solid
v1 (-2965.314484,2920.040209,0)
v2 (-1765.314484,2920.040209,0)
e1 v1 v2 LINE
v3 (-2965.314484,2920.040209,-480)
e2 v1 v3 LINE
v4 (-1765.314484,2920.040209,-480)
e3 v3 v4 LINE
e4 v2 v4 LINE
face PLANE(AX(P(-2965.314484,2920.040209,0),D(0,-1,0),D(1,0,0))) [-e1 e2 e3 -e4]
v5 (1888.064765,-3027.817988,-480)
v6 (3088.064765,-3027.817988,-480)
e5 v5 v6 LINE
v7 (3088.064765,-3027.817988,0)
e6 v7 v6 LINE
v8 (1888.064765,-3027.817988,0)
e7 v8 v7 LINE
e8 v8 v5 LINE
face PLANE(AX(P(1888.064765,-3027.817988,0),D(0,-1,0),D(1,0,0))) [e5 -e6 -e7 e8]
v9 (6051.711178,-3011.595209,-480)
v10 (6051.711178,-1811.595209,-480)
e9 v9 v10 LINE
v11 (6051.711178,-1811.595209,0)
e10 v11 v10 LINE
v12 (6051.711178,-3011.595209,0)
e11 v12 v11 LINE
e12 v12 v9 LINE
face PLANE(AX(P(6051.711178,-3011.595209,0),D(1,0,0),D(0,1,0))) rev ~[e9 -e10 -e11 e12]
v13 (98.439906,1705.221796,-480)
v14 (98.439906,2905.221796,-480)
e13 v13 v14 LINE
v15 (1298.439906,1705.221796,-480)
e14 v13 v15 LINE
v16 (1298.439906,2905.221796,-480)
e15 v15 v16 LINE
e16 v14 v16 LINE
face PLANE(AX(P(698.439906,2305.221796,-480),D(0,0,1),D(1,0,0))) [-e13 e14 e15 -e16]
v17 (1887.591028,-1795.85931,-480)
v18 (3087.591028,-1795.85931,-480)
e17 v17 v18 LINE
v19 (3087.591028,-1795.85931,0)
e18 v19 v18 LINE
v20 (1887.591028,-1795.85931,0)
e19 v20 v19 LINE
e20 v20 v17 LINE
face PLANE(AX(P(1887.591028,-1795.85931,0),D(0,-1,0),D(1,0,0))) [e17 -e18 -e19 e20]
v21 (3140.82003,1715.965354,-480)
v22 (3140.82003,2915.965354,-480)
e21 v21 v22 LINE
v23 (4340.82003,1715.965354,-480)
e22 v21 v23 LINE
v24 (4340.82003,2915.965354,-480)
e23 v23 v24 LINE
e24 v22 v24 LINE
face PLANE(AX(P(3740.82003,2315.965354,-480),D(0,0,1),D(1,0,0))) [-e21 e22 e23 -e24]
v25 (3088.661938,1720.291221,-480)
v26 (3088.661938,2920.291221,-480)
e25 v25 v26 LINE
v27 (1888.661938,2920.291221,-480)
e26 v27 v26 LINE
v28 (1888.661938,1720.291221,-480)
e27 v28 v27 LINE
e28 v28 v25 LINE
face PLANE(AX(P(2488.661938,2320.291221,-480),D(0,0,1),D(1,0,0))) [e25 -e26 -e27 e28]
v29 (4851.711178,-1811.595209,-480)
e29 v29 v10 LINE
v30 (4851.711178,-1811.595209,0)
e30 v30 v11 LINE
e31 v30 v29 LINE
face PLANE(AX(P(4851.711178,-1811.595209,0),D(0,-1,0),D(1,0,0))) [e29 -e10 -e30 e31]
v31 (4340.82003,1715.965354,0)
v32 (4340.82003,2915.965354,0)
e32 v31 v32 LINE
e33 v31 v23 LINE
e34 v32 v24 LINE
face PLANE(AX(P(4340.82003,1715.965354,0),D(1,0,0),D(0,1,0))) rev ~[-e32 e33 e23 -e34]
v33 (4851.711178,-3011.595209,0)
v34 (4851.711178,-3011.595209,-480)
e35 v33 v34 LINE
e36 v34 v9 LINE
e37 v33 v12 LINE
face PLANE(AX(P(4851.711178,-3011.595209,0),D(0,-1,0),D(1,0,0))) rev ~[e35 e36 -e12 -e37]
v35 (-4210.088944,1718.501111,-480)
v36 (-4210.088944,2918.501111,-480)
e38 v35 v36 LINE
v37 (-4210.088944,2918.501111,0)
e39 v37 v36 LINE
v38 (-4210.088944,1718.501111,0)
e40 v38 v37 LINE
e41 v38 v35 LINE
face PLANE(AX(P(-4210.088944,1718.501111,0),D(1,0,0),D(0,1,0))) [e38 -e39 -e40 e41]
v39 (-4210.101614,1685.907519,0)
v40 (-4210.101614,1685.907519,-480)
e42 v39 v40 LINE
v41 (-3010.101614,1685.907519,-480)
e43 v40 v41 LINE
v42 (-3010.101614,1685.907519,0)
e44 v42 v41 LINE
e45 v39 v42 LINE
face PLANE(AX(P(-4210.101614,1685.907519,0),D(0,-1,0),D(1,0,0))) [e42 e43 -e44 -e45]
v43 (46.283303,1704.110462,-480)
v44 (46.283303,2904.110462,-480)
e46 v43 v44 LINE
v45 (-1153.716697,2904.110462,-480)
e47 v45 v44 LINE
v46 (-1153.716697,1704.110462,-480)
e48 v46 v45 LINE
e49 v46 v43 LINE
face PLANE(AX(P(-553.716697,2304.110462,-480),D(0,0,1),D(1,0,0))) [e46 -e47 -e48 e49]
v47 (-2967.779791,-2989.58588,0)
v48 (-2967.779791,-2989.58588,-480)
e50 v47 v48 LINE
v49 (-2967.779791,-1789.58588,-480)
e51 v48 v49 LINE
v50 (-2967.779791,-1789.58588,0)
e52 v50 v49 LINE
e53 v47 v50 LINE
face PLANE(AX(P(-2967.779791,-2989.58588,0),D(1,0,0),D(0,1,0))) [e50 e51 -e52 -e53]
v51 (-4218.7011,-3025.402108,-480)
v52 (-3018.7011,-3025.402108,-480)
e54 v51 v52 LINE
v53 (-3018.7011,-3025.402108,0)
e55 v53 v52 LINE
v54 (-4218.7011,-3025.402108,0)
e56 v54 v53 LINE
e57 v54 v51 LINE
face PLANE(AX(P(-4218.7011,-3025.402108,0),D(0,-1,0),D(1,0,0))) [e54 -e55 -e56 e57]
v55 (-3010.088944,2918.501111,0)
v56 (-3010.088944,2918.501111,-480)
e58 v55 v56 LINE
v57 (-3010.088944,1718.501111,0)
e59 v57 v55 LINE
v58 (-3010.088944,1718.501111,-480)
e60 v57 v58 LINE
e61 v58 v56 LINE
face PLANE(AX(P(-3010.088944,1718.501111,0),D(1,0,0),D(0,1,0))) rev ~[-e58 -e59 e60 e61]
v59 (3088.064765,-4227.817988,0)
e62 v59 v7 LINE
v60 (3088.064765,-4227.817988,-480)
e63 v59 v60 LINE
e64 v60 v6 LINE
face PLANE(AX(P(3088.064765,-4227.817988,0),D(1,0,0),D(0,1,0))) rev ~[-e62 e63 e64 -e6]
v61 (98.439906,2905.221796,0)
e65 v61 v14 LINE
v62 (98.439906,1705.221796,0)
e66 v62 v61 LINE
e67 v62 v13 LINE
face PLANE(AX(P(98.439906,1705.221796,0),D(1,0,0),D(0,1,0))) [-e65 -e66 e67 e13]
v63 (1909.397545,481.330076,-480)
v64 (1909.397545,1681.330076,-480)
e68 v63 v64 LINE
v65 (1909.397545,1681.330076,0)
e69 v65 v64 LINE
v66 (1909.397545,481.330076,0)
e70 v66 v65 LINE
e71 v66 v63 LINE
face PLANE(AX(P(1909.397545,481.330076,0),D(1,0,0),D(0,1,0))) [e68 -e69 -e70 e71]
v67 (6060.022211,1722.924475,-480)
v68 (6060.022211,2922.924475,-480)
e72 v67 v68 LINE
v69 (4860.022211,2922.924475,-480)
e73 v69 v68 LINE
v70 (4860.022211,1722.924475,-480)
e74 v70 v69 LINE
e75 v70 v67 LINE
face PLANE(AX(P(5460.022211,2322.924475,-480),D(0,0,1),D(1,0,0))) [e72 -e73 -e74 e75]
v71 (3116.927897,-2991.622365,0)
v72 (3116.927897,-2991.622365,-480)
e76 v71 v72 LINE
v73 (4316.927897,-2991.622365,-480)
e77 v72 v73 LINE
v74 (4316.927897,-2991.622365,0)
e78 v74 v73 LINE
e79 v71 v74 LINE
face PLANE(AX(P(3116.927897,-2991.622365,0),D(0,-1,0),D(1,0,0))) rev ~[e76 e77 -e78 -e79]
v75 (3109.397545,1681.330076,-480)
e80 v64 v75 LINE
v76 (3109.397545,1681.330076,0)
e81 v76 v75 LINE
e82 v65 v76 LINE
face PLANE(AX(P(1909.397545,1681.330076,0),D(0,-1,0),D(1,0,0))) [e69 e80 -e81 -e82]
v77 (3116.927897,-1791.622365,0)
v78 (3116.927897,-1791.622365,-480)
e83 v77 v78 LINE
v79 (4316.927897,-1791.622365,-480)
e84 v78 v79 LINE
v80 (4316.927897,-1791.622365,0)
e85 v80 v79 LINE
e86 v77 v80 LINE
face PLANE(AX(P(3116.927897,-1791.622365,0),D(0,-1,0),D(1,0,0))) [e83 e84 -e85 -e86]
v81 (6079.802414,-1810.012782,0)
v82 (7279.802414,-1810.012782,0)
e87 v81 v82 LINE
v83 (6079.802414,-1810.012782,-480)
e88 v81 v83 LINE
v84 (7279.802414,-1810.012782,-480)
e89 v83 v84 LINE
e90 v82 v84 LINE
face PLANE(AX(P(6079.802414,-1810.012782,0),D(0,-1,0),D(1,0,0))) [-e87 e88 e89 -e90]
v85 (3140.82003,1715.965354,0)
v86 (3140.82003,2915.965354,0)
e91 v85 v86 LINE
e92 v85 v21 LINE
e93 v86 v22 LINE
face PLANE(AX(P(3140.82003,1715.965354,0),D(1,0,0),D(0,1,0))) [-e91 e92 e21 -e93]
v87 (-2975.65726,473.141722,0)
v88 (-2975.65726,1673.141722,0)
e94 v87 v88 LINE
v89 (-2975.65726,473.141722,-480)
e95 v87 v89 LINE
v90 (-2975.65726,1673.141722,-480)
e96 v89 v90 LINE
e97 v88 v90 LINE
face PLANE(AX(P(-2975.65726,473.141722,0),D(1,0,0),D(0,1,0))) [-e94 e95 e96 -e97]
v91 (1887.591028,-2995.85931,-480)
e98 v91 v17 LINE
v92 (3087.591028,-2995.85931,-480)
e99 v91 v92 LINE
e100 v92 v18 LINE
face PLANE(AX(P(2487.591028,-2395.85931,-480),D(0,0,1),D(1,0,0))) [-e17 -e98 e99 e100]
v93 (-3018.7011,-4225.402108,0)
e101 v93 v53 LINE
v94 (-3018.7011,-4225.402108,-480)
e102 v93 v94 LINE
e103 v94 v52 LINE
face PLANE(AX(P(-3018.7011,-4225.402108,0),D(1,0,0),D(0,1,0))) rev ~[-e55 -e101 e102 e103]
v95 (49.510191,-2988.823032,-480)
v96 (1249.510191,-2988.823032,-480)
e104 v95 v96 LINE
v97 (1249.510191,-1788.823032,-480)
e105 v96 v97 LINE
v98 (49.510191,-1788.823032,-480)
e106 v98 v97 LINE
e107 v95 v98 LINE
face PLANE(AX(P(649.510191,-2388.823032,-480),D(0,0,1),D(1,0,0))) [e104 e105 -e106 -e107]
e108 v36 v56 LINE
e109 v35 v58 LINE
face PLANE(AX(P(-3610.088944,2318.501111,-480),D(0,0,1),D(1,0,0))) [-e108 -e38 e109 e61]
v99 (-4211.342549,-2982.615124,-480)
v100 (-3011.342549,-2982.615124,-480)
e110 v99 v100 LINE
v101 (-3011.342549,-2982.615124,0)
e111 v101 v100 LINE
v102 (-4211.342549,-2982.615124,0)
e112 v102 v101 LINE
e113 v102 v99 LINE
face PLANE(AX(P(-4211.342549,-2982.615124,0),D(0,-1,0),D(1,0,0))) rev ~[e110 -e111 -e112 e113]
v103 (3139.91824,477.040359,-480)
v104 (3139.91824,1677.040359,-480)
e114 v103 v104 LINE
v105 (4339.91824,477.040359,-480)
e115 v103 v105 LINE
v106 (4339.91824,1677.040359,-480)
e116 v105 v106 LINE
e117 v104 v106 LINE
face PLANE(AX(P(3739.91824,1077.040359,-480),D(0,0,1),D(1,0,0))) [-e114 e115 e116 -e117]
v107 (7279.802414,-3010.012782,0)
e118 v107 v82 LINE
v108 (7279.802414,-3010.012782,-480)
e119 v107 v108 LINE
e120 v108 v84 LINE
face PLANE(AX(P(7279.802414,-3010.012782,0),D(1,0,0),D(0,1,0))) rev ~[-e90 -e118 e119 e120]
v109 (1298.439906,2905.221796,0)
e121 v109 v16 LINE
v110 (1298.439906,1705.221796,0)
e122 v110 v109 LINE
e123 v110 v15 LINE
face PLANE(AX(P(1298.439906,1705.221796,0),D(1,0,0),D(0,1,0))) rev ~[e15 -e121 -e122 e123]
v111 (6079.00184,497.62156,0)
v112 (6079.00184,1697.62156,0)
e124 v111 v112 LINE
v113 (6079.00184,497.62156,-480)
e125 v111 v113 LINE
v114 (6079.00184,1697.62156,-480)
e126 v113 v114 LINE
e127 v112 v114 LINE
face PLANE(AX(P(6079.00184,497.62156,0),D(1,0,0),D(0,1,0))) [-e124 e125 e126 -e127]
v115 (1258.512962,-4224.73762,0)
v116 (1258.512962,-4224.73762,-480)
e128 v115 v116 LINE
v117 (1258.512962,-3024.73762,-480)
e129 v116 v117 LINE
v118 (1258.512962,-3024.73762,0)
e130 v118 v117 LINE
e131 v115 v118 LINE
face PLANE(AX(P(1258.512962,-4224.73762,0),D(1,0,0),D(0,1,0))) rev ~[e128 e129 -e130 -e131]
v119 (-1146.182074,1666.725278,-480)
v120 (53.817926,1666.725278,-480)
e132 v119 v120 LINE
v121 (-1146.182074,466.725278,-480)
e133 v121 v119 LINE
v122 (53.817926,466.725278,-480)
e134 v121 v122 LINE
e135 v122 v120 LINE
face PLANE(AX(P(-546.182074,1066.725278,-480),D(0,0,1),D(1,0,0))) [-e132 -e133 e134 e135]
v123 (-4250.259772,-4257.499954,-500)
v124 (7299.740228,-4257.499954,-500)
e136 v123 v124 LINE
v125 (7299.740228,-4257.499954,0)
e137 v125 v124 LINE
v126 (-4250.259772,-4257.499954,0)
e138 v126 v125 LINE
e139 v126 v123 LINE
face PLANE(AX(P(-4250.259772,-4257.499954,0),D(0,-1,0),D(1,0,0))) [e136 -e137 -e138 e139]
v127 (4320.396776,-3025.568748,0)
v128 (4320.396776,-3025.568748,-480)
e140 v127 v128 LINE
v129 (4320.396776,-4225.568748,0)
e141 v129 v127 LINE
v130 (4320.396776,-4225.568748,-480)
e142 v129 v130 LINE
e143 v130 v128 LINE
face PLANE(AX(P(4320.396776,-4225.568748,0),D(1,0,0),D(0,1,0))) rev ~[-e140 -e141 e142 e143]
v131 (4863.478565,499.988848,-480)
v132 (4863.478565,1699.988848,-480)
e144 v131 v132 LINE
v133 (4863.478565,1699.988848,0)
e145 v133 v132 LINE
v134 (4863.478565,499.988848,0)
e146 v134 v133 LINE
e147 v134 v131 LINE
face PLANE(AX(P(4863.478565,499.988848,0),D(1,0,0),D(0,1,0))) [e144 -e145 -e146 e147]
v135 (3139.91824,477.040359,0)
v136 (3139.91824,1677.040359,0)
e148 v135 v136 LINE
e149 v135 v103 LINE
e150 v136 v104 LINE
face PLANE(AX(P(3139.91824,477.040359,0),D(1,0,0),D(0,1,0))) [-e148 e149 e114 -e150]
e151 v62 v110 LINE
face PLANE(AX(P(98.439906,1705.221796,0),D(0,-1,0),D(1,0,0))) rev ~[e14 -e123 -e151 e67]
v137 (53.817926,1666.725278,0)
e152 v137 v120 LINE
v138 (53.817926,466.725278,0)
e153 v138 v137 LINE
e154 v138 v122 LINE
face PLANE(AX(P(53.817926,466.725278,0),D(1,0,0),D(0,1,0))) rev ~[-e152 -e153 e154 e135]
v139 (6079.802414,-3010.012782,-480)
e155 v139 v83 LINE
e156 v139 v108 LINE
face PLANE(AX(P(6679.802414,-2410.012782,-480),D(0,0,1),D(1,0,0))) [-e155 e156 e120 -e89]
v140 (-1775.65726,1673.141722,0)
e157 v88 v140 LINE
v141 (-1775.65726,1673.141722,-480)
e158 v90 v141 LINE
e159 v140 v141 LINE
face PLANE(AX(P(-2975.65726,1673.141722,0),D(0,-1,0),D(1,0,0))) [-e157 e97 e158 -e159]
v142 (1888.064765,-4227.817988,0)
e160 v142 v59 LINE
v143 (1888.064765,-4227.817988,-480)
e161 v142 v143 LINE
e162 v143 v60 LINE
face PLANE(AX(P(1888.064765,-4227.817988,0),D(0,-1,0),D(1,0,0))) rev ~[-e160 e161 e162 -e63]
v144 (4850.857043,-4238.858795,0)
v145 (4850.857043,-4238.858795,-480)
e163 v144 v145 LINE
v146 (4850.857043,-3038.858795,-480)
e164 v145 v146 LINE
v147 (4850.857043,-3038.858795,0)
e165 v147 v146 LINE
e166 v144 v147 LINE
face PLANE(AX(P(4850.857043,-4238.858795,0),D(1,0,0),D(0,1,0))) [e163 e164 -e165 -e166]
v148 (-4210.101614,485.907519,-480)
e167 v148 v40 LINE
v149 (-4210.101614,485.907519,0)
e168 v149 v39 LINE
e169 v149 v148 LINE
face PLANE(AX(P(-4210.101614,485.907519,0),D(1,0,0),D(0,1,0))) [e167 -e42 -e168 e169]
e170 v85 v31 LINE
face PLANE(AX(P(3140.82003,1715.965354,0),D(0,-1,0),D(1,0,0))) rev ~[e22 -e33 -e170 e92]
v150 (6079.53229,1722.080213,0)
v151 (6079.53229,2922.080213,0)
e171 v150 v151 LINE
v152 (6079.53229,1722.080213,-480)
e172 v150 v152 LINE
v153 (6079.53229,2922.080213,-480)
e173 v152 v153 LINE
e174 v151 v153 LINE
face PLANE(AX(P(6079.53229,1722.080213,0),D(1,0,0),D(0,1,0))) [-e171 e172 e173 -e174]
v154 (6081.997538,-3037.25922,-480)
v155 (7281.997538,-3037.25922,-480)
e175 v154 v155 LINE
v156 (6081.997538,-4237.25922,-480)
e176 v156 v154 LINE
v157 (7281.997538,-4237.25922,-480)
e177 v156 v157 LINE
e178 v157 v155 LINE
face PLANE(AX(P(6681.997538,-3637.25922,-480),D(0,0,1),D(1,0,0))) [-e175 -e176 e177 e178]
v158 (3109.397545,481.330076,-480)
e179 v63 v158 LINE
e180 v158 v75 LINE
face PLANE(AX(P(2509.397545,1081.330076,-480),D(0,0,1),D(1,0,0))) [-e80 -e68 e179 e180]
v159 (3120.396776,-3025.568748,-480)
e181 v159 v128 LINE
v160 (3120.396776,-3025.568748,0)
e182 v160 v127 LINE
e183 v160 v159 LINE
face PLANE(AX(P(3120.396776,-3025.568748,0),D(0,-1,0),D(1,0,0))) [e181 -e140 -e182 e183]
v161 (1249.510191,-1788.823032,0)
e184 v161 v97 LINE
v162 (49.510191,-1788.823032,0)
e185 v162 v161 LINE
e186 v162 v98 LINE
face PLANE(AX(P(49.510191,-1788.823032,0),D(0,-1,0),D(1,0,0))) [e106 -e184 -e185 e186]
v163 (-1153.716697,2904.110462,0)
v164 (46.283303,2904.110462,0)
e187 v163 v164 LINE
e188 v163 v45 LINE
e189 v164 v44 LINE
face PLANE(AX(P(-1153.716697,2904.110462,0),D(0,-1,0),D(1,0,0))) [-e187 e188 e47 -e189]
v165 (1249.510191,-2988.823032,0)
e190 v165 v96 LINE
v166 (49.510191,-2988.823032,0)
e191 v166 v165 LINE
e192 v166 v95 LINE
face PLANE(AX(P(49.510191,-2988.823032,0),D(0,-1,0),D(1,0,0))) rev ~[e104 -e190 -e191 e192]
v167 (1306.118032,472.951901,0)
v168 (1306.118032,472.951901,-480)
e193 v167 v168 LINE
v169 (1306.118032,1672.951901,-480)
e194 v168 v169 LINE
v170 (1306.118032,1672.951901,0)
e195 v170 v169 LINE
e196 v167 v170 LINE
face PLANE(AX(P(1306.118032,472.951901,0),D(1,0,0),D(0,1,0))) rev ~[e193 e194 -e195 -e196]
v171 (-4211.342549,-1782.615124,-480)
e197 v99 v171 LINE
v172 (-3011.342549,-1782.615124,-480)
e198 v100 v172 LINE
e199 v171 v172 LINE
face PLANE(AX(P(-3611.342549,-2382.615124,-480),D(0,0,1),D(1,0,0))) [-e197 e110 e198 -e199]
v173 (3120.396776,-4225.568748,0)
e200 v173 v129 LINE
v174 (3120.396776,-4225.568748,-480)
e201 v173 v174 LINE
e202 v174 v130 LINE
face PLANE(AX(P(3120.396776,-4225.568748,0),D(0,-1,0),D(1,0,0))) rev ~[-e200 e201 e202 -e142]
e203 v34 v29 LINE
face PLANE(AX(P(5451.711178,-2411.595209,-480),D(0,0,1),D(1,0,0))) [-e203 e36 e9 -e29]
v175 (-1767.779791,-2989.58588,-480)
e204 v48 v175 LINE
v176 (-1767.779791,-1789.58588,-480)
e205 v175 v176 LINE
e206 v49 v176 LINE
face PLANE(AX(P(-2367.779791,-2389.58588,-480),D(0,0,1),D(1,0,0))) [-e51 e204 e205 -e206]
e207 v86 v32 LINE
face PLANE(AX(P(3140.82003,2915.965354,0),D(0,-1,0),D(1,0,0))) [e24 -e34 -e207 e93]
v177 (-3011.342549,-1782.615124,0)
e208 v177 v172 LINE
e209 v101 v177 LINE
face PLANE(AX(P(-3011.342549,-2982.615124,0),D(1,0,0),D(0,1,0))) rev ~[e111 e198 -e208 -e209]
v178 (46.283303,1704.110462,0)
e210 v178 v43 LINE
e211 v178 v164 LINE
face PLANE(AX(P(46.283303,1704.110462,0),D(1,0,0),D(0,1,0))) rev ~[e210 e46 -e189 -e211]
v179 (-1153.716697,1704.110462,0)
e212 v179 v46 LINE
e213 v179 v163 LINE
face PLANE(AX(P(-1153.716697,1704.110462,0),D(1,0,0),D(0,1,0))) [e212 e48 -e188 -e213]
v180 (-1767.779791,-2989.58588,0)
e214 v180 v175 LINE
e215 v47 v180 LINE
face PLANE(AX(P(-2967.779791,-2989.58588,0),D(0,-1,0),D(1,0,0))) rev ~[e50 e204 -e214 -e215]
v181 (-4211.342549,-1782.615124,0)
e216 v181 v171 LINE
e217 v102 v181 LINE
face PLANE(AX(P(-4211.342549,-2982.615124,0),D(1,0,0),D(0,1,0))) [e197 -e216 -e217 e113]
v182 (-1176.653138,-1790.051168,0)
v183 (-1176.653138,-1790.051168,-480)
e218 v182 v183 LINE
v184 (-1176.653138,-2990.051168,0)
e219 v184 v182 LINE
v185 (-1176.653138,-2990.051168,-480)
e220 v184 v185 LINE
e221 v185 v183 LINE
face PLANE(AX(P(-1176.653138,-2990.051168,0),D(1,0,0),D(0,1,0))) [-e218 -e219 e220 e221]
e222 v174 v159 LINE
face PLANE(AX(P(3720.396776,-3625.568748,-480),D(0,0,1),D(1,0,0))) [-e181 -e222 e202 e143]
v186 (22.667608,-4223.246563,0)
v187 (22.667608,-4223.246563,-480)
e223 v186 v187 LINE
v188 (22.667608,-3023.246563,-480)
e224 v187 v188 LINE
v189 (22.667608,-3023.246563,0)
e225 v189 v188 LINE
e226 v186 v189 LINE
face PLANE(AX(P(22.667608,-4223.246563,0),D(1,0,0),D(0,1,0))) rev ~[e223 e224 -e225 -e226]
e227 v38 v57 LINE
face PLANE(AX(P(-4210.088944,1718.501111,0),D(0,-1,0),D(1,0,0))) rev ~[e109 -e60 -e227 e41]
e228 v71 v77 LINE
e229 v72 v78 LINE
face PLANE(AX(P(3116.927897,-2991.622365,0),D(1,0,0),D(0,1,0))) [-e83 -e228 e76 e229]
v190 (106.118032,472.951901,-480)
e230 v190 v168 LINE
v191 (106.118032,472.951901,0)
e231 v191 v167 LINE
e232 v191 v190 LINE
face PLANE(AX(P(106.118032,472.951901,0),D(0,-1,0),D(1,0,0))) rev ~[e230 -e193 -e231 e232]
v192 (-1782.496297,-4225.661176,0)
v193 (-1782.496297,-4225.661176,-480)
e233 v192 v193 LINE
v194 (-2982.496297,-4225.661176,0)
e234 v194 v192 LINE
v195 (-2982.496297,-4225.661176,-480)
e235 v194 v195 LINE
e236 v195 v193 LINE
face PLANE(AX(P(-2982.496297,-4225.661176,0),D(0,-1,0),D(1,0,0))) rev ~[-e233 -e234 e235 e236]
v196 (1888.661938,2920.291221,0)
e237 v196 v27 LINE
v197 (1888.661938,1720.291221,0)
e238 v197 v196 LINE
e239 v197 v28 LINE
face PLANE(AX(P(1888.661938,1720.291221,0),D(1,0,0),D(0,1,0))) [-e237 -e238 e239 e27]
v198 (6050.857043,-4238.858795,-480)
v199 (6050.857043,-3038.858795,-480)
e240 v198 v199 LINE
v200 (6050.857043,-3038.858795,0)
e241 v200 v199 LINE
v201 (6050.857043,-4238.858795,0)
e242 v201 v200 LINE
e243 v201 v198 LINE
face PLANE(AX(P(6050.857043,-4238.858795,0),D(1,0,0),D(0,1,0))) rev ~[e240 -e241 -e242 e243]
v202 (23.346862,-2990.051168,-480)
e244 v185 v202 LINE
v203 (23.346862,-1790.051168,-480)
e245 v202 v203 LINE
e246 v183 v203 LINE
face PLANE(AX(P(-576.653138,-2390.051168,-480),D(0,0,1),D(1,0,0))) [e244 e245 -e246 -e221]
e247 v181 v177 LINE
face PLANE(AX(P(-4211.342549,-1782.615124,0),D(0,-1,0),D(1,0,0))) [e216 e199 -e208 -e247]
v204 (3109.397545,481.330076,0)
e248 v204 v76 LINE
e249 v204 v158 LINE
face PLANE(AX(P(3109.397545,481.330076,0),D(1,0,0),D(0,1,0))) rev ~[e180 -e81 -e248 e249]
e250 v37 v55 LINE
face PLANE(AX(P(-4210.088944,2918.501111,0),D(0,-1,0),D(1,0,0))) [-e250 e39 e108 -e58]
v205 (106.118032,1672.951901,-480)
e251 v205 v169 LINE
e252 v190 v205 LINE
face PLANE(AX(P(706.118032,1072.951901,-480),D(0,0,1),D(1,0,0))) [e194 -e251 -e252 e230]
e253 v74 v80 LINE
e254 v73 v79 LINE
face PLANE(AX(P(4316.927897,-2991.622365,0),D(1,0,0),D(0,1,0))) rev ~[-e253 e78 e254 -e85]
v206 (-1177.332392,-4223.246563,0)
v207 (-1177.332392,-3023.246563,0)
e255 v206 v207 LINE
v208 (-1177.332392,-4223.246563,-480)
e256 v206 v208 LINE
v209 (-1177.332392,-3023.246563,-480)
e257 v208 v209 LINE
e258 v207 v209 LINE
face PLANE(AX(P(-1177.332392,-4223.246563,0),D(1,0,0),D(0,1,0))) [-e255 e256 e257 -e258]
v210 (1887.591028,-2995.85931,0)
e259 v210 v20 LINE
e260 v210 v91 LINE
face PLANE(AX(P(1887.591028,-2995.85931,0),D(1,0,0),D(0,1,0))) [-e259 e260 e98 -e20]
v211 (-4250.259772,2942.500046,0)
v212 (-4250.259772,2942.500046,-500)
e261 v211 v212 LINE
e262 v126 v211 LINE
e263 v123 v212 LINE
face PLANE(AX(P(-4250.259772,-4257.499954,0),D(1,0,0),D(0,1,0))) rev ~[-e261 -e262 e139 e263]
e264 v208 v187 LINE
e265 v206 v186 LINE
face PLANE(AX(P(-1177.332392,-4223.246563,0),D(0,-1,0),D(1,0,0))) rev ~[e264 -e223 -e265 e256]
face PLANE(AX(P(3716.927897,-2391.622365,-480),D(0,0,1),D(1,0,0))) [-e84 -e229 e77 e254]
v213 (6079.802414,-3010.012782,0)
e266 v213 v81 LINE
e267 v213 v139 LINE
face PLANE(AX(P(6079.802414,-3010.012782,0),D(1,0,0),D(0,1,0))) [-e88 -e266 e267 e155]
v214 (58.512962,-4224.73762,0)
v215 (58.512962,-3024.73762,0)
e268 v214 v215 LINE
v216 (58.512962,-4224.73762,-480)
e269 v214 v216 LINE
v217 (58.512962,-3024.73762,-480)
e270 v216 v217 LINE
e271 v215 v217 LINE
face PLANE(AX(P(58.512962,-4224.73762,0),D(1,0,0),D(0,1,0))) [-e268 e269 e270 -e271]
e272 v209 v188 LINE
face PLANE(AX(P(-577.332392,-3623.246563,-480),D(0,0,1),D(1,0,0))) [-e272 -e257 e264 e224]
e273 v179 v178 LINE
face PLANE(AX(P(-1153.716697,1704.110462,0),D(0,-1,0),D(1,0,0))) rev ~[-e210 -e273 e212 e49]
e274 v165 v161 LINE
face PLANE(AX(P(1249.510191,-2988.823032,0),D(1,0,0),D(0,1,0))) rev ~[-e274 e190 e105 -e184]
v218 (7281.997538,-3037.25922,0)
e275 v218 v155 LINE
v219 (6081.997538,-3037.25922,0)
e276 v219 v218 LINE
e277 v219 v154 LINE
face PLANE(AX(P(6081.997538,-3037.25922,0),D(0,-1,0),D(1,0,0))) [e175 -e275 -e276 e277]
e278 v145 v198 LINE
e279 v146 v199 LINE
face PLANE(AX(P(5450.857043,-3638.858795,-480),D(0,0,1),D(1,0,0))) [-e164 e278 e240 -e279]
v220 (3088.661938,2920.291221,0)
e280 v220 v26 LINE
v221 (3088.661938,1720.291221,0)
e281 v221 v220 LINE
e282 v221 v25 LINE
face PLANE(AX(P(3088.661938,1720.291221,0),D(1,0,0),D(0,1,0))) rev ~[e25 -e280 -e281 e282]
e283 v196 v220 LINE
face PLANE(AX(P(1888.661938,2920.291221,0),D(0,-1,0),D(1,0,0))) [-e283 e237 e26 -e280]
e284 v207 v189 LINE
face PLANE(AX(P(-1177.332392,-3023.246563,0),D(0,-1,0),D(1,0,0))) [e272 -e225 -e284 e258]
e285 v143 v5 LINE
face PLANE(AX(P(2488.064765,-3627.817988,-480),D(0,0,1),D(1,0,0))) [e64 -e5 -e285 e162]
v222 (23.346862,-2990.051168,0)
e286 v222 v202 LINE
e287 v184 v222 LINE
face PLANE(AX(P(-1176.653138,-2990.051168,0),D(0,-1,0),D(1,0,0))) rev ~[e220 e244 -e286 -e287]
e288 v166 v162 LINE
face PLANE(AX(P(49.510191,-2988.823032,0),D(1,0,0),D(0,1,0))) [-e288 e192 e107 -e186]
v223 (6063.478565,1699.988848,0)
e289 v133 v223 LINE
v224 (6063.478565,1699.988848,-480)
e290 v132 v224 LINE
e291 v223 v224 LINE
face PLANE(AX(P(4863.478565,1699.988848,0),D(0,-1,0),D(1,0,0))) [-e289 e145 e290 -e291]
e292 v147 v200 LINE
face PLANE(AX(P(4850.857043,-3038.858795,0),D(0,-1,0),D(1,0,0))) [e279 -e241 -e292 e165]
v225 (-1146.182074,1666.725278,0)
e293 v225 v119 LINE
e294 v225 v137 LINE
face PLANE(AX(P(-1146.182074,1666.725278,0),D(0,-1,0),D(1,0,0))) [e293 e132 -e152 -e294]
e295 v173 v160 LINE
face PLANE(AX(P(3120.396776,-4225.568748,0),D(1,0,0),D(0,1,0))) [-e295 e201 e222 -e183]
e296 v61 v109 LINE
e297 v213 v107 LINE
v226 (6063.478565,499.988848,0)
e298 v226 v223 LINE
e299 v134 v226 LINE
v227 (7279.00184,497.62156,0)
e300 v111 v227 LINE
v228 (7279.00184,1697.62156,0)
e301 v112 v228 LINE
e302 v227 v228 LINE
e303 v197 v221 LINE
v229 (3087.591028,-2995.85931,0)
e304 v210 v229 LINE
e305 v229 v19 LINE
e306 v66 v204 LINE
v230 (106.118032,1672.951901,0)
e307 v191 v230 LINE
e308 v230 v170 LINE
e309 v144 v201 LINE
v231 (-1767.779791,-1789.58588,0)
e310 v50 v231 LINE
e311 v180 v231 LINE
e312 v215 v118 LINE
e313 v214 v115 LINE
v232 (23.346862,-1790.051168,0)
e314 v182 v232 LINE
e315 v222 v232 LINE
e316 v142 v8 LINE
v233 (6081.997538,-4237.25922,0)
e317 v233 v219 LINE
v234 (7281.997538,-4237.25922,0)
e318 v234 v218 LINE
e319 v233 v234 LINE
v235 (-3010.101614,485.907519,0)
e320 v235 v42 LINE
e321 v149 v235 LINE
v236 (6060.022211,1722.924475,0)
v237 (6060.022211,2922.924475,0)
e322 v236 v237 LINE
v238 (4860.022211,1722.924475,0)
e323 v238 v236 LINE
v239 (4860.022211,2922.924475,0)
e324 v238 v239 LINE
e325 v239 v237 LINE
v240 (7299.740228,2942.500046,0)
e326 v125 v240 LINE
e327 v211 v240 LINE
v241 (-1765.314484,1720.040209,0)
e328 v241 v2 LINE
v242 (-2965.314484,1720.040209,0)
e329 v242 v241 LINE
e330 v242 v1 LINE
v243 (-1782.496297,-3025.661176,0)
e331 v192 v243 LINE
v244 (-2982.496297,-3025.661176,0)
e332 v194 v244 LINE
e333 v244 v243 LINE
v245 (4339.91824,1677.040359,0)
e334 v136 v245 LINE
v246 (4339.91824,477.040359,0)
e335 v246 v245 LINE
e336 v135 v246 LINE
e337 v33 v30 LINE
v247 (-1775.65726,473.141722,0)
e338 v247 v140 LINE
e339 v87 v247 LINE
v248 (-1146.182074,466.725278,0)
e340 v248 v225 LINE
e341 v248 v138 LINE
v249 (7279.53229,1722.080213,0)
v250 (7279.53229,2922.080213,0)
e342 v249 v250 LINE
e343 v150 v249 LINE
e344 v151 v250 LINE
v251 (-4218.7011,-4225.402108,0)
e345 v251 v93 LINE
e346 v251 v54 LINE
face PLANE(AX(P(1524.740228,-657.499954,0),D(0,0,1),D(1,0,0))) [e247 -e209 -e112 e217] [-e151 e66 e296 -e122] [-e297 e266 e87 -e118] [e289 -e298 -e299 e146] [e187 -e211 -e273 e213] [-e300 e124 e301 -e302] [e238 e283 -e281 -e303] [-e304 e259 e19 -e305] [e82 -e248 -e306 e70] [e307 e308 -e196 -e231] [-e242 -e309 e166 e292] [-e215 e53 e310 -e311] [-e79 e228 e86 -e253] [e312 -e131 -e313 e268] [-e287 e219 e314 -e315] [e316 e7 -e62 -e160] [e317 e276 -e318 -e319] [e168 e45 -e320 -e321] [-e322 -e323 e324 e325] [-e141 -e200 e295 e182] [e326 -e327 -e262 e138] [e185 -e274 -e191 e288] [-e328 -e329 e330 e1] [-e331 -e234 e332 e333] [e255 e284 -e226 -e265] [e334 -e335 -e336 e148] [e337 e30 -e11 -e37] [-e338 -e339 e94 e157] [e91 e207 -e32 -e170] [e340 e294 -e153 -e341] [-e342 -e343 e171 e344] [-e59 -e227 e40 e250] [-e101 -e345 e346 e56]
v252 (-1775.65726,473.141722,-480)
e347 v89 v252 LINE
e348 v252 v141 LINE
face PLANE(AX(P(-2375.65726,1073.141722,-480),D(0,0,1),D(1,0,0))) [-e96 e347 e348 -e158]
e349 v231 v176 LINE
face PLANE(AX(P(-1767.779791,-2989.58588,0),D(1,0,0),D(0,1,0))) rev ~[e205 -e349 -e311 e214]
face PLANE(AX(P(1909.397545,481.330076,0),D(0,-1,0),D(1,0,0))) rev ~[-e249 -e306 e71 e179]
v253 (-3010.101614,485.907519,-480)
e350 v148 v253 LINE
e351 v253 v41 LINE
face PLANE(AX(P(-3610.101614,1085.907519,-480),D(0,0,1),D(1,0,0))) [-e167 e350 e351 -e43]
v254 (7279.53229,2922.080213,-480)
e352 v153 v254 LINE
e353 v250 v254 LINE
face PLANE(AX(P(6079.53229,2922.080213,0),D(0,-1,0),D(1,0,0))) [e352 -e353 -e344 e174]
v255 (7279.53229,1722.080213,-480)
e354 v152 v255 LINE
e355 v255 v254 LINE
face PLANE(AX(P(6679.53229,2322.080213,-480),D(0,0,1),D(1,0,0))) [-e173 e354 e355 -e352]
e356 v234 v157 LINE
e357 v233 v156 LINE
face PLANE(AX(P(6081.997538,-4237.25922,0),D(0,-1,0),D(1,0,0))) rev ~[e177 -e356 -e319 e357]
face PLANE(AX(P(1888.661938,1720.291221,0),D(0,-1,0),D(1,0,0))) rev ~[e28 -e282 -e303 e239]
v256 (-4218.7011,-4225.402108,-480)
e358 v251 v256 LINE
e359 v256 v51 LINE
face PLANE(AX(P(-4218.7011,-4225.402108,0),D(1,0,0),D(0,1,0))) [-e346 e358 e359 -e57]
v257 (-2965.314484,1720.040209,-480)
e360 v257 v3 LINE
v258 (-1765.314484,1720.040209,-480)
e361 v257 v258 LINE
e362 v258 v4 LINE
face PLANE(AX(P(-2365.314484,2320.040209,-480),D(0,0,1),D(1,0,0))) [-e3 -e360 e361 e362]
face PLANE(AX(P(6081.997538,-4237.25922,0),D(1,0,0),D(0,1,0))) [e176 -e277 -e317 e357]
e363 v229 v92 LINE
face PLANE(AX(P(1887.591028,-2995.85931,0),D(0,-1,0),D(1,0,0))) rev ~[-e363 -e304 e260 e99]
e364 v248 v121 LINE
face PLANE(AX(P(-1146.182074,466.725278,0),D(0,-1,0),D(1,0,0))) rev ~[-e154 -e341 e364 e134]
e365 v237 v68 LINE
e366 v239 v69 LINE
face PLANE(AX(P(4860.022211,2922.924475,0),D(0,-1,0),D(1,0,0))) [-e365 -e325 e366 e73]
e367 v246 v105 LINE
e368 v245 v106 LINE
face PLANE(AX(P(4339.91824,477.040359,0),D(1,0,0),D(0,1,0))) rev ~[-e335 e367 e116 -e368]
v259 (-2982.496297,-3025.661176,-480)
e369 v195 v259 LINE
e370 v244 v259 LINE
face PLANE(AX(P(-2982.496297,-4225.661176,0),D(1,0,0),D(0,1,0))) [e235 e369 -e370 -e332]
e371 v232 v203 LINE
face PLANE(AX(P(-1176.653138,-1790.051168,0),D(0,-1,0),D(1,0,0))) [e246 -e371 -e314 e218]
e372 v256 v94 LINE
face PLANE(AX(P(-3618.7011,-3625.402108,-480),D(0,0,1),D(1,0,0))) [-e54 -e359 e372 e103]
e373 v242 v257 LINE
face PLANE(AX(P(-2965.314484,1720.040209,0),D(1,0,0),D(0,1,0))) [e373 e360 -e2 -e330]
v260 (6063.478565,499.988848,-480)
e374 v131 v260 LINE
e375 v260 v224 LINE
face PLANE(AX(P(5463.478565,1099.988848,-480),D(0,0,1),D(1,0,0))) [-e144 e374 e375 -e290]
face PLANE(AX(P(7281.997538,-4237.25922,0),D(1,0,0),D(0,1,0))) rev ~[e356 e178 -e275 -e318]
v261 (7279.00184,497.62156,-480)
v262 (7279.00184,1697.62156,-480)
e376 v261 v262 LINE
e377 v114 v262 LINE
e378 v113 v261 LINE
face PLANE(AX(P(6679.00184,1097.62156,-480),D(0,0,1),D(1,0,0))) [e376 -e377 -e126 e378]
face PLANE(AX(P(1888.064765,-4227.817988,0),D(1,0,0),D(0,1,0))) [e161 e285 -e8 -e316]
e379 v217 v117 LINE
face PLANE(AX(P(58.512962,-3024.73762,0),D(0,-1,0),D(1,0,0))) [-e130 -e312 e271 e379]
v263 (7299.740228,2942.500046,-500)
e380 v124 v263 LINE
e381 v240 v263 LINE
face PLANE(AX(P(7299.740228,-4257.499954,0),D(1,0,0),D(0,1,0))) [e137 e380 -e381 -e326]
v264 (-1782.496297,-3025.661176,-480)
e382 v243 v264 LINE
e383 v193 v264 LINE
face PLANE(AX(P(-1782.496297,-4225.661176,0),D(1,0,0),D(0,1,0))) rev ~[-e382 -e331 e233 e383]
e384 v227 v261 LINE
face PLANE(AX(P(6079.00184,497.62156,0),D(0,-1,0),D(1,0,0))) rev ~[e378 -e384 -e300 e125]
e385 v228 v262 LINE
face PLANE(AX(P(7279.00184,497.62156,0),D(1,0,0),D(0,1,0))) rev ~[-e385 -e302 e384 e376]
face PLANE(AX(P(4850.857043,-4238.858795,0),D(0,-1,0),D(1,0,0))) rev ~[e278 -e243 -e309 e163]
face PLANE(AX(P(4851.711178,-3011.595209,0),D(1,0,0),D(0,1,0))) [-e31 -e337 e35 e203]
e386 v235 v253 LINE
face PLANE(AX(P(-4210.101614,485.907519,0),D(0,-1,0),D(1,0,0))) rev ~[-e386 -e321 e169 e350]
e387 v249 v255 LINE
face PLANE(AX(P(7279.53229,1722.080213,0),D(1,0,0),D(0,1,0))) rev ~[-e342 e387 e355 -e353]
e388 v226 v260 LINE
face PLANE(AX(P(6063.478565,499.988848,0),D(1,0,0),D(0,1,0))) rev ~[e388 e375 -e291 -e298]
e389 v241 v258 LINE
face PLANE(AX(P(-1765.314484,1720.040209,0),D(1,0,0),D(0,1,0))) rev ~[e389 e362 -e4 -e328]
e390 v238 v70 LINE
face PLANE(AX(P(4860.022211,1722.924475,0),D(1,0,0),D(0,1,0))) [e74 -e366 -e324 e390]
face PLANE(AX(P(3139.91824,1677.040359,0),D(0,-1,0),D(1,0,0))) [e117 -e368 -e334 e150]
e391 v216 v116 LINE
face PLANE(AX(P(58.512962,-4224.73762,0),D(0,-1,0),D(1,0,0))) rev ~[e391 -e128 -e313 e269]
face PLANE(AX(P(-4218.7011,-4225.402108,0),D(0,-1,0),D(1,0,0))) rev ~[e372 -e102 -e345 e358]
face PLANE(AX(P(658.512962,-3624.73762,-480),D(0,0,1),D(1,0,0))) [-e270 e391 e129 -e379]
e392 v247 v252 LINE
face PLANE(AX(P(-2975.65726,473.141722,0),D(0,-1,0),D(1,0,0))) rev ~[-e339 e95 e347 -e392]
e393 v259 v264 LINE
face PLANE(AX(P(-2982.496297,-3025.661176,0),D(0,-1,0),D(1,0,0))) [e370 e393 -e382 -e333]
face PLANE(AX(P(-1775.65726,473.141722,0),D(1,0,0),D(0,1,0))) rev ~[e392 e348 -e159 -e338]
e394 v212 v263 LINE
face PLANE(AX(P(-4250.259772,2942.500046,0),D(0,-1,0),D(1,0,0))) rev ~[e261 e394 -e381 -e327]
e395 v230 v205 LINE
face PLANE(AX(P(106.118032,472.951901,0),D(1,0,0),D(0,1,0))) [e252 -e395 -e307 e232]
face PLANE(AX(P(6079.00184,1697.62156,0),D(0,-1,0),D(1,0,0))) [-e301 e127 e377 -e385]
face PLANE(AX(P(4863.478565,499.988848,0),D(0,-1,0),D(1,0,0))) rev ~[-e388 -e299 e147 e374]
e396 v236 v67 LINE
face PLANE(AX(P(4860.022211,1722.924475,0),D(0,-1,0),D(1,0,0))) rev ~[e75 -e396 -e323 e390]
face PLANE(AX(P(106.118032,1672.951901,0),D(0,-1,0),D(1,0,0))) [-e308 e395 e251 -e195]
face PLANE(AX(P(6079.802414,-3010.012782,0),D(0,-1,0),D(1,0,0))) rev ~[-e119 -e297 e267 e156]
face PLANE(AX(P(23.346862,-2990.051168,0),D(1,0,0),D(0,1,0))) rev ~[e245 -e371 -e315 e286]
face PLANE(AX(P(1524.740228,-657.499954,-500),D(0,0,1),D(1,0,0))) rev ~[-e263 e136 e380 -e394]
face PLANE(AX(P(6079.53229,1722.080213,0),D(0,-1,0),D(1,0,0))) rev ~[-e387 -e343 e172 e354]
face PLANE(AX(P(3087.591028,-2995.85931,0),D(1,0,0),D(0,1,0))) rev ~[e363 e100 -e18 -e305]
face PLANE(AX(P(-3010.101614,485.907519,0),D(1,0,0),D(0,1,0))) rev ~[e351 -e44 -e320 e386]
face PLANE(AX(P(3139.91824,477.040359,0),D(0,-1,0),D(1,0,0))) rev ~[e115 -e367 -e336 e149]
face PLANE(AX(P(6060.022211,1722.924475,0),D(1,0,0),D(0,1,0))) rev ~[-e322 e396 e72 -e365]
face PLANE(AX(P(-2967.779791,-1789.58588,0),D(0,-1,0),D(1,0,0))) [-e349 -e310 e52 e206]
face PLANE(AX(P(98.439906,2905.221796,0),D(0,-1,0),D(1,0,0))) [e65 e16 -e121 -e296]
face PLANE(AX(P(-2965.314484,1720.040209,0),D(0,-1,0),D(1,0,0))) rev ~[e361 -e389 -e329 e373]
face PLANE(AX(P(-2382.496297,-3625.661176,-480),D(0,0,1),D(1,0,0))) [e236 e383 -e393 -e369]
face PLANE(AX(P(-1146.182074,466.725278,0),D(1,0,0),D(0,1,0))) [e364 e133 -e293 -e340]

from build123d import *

# Parameters (mm, degrees)
F0_W      = 11550
F0_H      = 7200
F1_DEPTH  = 500
F2_W      = 1200
F2_H      = 1200
F3_DEPTH  = 480
F4_W      = 1200
F4_H      = 1200
F5_DEPTH  = 480
F6_W      = 1200
F6_H      = 1200
F7_DEPTH  = 480
F8_W      = 1200
F8_H      = 1200
F9_DEPTH  = 480
F10_W     = 1200
F10_H     = 1200
F11_DEPTH = 480
F12_W     = 1200
F12_H     = 1200
F13_DEPTH = 480
F14_W     = 1200
F14_H     = 1200
F15_DEPTH = 480
F16_W     = 1200
F16_H     = 1200
F17_DEPTH = 480
F18_W     = 1200
F18_H     = 1200
F19_DEPTH = 480
F20_W     = 1200
F20_H     = 1200
F21_DEPTH = 480
F22_W     = 1200
F22_H     = 1200
F23_DEPTH = 480
F24_W     = 1200
F24_H     = 1200
F25_DEPTH = 480
F26_W     = 1200
F26_H     = 1200
F27_DEPTH = 480
F28_W     = 1200
F28_H     = 1200
F29_DEPTH = 480
F30_W     = 1200
F30_H     = 1200
F31_DEPTH = 480
F32_W     = 1200
F32_H     = 1200
F33_DEPTH = 480
F34_W     = 1200
F34_H     = 1200
F35_DEPTH = 480
F36_W     = 1200
F36_H     = 1200
F37_DEPTH = 480
F38_W     = 1200
F38_H     = 1200
F39_DEPTH = 480
F40_W     = 1200
F40_H     = 1200
F41_DEPTH = 480
F42_W     = 1200
F42_H     = 1200
F43_DEPTH = 480
F44_W     = 1200
F44_H     = 1200
F45_DEPTH = 480
F46_W     = 1200
F46_H     = 1200
F47_DEPTH = 480
F48_W     = 1200
F48_H     = 1200
F49_DEPTH = 480
F50_W     = 1200
F50_H     = 1200
F51_DEPTH = 480
F52_W     = 1200
F52_H     = 1200
F53_DEPTH = 480
F54_W     = 1200
F54_H     = 1200
F55_DEPTH = 480
F56_W     = 1200
F56_H     = 1200
F57_DEPTH = 480
F58_W     = 1200
F58_H     = 1200
F59_DEPTH = 480
F60_W     = 1200
F60_H     = 1200
F61_DEPTH = 480
F62_W     = 1200
F62_H     = 1200
F63_DEPTH = 480
F64_W     = 1200
F64_H     = 1200
F65_DEPTH = 480


with BuildPart() as f1:
    # F0 (on Top) → F1 (new body)
    with BuildSketch(Plane.XY):
        with Locations((1524.740228, -657.499954)):
            Rectangle(F0_W, F0_H)
    extrude(amount=-F1_DEPTH)

    # F2 (on Top) → F3 (cut)
    with BuildSketch(Plane.XY):
        with Locations((-3610.088944, 2318.501111)):
            Rectangle(F2_W, F2_H)
    extrude(amount=-F3_DEPTH, mode=Mode.SUBTRACT)

    # F4 (on Top) → F5 (cut)
    with BuildSketch(Plane.XY):
        with Locations((-2365.314484, 2320.040209)):
            Rectangle(F4_W, F4_H)
    extrude(amount=-F5_DEPTH, mode=Mode.SUBTRACT)

    # F6 (on Top) → F7 (cut)
    with BuildSketch(Plane.XY):
        with Locations((-3610.101614, 1085.907519)):
            Rectangle(F6_W, F6_H)
    extrude(amount=-F7_DEPTH, mode=Mode.SUBTRACT)

    # F8 (on Top) → F9 (cut)
    with BuildSketch(Plane.XY):
        with Locations((-2375.65726, 1073.141722)):
            Rectangle(F8_W, F8_H)
    extrude(amount=-F9_DEPTH, mode=Mode.SUBTRACT)

    # F10 (on Top) → F11 (cut)
    with BuildSketch(Plane.XY):
        with Locations((-3618.7011, -3625.402108)):
            Rectangle(F10_W, F10_H)
    extrude(amount=-F11_DEPTH, mode=Mode.SUBTRACT)

    # F12 (on Top) → F13 (cut)
    with BuildSketch(Plane.XY):
        with Locations((-3611.342549, -2382.615124)):
            Rectangle(F12_W, F12_H)
    extrude(amount=-F13_DEPTH, mode=Mode.SUBTRACT)

    # F14 (on Top) → F15 (cut)
    with BuildSketch(Plane.XY):
        with Locations((-2367.779791, -2389.58588)):
            Rectangle(F14_W, F14_H)
    extrude(amount=-F15_DEPTH, mode=Mode.SUBTRACT)

    # F16 (on Top) → F17 (cut)
    with BuildSketch(Plane.XY):
        with Locations((-2382.496297, -3625.661176)):
            Rectangle(F16_W, F16_H)
    extrude(amount=-F17_DEPTH, mode=Mode.SUBTRACT)

    # F18 (on Top) → F19 (cut)
    with BuildSketch(Plane.XY):
        with Locations((6679.53229, 2322.080213)):
            Rectangle(F18_W, F18_H)
    extrude(amount=-F19_DEPTH, mode=Mode.SUBTRACT)

    # F20 (on Top) → F21 (cut)
    with BuildSketch(Plane.XY):
        with Locations((5460.022211, 2322.924475)):
            Rectangle(F20_W, F20_H)
    extrude(amount=-F21_DEPTH, mode=Mode.SUBTRACT)

    # F22 (on Top) → F23 (cut)
    with BuildSketch(Plane.XY):
        with Locations((5463.478565, 1099.988848)):
            Rectangle(F22_W, F22_H)
    extrude(amount=-F23_DEPTH, mode=Mode.SUBTRACT)

    # F24 (on Top) → F25 (cut)
    with BuildSketch(Plane.XY):
        with Locations((6679.00184, 1097.62156)):
            Rectangle(F24_W, F24_H)
    extrude(amount=-F25_DEPTH, mode=Mode.SUBTRACT)

    # F26 (on Top) → F27 (cut)
    with BuildSketch(Plane.XY):
        with Locations((6681.997538, -3637.25922)):
            Rectangle(F26_W, F26_H)
    extrude(amount=-F27_DEPTH, mode=Mode.SUBTRACT)

    # F28 (on Top) → F29 (cut)
    with BuildSketch(Plane.XY):
        with Locations((6679.802414, -2410.012782)):
            Rectangle(F28_W, F28_H)
    extrude(amount=-F29_DEPTH, mode=Mode.SUBTRACT)

    # F30 (on Top) → F31 (cut)
    with BuildSketch(Plane.XY):
        with Locations((5451.711178, -2411.595209)):
            Rectangle(F30_W, F30_H)
    extrude(amount=-F31_DEPTH, mode=Mode.SUBTRACT)

    # F32 (on Top) → F33 (cut)
    with BuildSketch(Plane.XY):
        with Locations((5450.857043, -3638.858795)):
            Rectangle(F32_W, F32_H)
    extrude(amount=-F33_DEPTH, mode=Mode.SUBTRACT)

    # F34 (on Top) → F35 (cut)
    with BuildSketch(Plane.XY):
        with Locations((-553.716697, 2304.110462)):
            Rectangle(F34_W, F34_H)
    extrude(amount=-F35_DEPTH, mode=Mode.SUBTRACT)

    # F36 (on Top) → F37 (cut)
    with BuildSketch(Plane.XY):
        with Locations((-546.182074, 1066.725278)):
            Rectangle(F36_W, F36_H)
    extrude(amount=-F37_DEPTH, mode=Mode.SUBTRACT)

    # F38 (on Top) → F39 (cut)
    with BuildSketch(Plane.XY):
        with Locations((706.118032, 1072.951901)):
            Rectangle(F38_W, F38_H)
    extrude(amount=-F39_DEPTH, mode=Mode.SUBTRACT)

    # F40 (on Top) → F41 (cut)
    with BuildSketch(Plane.XY):
        with Locations((698.439906, 2305.221796)):
            Rectangle(F40_W, F40_H)
    extrude(amount=-F41_DEPTH, mode=Mode.SUBTRACT)

    # F42 (on Top) → F43 (cut)
    with BuildSketch(Plane.XY):
        with Locations((2488.661938, 2320.291221)):
            Rectangle(F42_W, F42_H)
    extrude(amount=-F43_DEPTH, mode=Mode.SUBTRACT)

    # F44 (on Top) → F45 (cut)
    with BuildSketch(Plane.XY):
        with Locations((2509.397545, 1081.330076)):
            Rectangle(F44_W, F44_H)
    extrude(amount=-F45_DEPTH, mode=Mode.SUBTRACT)

    # F46 (on Top) → F47 (cut)
    with BuildSketch(Plane.XY):
        with Locations((3740.82003, 2315.965354)):
            Rectangle(F46_W, F46_H)
    extrude(amount=-F47_DEPTH, mode=Mode.SUBTRACT)

    # F48 (on Top) → F49 (cut)
    with BuildSketch(Plane.XY):
        with Locations((3739.91824, 1077.040359)):
            Rectangle(F48_W, F48_H)
    extrude(amount=-F49_DEPTH, mode=Mode.SUBTRACT)

    # F50 (on Top) → F51 (cut)
    with BuildSketch(Plane.XY):
        with Locations((-576.653138, -2390.051168)):
            Rectangle(F50_W, F50_H)
    extrude(amount=-F51_DEPTH, mode=Mode.SUBTRACT)

    # F52 (on Top) → F53 (cut)
    with BuildSketch(Plane.XY):
        with Locations((-577.332392, -3623.246563)):
            Rectangle(F52_W, F52_H)
    extrude(amount=-F53_DEPTH, mode=Mode.SUBTRACT)

    # F54 (on Top) → F55 (cut)
    with BuildSketch(Plane.XY):
        with Locations((649.510191, -2388.823032)):
            Rectangle(F54_W, F54_H)
    extrude(amount=-F55_DEPTH, mode=Mode.SUBTRACT)

    # F56 (on Top) → F57 (cut)
    with BuildSketch(Plane.XY):
        with Locations((658.512962, -3624.73762)):
            Rectangle(F56_W, F56_H)
    extrude(amount=-F57_DEPTH, mode=Mode.SUBTRACT)

    # F58 (on Top) → F59 (cut)
    with BuildSketch(Plane.XY):
        with Locations((2487.591028, -2395.85931)):
            Rectangle(F58_W, F58_H)
    extrude(amount=-F59_DEPTH, mode=Mode.SUBTRACT)

    # F60 (on Top) → F61 (cut)
    with BuildSketch(Plane.XY):
        with Locations((2488.064765, -3627.817988)):
            Rectangle(F60_W, F60_H)
    extrude(amount=-F61_DEPTH, mode=Mode.SUBTRACT)

    # F62 (on Top) → F63 (cut)
    with BuildSketch(Plane.XY):
        with Locations((3716.927897, -2391.622365)):
            Rectangle(F62_W, F62_H)
    extrude(amount=-F63_DEPTH, mode=Mode.SUBTRACT)

    # F64 (on Top) → F65 (cut)
    with BuildSketch(Plane.XY):
        with Locations((3720.396776, -3625.568748)):
            Rectangle(F64_W, F64_H)
    extrude(amount=-F65_DEPTH, mode=Mode.SUBTRACT)


solid = f1.part
